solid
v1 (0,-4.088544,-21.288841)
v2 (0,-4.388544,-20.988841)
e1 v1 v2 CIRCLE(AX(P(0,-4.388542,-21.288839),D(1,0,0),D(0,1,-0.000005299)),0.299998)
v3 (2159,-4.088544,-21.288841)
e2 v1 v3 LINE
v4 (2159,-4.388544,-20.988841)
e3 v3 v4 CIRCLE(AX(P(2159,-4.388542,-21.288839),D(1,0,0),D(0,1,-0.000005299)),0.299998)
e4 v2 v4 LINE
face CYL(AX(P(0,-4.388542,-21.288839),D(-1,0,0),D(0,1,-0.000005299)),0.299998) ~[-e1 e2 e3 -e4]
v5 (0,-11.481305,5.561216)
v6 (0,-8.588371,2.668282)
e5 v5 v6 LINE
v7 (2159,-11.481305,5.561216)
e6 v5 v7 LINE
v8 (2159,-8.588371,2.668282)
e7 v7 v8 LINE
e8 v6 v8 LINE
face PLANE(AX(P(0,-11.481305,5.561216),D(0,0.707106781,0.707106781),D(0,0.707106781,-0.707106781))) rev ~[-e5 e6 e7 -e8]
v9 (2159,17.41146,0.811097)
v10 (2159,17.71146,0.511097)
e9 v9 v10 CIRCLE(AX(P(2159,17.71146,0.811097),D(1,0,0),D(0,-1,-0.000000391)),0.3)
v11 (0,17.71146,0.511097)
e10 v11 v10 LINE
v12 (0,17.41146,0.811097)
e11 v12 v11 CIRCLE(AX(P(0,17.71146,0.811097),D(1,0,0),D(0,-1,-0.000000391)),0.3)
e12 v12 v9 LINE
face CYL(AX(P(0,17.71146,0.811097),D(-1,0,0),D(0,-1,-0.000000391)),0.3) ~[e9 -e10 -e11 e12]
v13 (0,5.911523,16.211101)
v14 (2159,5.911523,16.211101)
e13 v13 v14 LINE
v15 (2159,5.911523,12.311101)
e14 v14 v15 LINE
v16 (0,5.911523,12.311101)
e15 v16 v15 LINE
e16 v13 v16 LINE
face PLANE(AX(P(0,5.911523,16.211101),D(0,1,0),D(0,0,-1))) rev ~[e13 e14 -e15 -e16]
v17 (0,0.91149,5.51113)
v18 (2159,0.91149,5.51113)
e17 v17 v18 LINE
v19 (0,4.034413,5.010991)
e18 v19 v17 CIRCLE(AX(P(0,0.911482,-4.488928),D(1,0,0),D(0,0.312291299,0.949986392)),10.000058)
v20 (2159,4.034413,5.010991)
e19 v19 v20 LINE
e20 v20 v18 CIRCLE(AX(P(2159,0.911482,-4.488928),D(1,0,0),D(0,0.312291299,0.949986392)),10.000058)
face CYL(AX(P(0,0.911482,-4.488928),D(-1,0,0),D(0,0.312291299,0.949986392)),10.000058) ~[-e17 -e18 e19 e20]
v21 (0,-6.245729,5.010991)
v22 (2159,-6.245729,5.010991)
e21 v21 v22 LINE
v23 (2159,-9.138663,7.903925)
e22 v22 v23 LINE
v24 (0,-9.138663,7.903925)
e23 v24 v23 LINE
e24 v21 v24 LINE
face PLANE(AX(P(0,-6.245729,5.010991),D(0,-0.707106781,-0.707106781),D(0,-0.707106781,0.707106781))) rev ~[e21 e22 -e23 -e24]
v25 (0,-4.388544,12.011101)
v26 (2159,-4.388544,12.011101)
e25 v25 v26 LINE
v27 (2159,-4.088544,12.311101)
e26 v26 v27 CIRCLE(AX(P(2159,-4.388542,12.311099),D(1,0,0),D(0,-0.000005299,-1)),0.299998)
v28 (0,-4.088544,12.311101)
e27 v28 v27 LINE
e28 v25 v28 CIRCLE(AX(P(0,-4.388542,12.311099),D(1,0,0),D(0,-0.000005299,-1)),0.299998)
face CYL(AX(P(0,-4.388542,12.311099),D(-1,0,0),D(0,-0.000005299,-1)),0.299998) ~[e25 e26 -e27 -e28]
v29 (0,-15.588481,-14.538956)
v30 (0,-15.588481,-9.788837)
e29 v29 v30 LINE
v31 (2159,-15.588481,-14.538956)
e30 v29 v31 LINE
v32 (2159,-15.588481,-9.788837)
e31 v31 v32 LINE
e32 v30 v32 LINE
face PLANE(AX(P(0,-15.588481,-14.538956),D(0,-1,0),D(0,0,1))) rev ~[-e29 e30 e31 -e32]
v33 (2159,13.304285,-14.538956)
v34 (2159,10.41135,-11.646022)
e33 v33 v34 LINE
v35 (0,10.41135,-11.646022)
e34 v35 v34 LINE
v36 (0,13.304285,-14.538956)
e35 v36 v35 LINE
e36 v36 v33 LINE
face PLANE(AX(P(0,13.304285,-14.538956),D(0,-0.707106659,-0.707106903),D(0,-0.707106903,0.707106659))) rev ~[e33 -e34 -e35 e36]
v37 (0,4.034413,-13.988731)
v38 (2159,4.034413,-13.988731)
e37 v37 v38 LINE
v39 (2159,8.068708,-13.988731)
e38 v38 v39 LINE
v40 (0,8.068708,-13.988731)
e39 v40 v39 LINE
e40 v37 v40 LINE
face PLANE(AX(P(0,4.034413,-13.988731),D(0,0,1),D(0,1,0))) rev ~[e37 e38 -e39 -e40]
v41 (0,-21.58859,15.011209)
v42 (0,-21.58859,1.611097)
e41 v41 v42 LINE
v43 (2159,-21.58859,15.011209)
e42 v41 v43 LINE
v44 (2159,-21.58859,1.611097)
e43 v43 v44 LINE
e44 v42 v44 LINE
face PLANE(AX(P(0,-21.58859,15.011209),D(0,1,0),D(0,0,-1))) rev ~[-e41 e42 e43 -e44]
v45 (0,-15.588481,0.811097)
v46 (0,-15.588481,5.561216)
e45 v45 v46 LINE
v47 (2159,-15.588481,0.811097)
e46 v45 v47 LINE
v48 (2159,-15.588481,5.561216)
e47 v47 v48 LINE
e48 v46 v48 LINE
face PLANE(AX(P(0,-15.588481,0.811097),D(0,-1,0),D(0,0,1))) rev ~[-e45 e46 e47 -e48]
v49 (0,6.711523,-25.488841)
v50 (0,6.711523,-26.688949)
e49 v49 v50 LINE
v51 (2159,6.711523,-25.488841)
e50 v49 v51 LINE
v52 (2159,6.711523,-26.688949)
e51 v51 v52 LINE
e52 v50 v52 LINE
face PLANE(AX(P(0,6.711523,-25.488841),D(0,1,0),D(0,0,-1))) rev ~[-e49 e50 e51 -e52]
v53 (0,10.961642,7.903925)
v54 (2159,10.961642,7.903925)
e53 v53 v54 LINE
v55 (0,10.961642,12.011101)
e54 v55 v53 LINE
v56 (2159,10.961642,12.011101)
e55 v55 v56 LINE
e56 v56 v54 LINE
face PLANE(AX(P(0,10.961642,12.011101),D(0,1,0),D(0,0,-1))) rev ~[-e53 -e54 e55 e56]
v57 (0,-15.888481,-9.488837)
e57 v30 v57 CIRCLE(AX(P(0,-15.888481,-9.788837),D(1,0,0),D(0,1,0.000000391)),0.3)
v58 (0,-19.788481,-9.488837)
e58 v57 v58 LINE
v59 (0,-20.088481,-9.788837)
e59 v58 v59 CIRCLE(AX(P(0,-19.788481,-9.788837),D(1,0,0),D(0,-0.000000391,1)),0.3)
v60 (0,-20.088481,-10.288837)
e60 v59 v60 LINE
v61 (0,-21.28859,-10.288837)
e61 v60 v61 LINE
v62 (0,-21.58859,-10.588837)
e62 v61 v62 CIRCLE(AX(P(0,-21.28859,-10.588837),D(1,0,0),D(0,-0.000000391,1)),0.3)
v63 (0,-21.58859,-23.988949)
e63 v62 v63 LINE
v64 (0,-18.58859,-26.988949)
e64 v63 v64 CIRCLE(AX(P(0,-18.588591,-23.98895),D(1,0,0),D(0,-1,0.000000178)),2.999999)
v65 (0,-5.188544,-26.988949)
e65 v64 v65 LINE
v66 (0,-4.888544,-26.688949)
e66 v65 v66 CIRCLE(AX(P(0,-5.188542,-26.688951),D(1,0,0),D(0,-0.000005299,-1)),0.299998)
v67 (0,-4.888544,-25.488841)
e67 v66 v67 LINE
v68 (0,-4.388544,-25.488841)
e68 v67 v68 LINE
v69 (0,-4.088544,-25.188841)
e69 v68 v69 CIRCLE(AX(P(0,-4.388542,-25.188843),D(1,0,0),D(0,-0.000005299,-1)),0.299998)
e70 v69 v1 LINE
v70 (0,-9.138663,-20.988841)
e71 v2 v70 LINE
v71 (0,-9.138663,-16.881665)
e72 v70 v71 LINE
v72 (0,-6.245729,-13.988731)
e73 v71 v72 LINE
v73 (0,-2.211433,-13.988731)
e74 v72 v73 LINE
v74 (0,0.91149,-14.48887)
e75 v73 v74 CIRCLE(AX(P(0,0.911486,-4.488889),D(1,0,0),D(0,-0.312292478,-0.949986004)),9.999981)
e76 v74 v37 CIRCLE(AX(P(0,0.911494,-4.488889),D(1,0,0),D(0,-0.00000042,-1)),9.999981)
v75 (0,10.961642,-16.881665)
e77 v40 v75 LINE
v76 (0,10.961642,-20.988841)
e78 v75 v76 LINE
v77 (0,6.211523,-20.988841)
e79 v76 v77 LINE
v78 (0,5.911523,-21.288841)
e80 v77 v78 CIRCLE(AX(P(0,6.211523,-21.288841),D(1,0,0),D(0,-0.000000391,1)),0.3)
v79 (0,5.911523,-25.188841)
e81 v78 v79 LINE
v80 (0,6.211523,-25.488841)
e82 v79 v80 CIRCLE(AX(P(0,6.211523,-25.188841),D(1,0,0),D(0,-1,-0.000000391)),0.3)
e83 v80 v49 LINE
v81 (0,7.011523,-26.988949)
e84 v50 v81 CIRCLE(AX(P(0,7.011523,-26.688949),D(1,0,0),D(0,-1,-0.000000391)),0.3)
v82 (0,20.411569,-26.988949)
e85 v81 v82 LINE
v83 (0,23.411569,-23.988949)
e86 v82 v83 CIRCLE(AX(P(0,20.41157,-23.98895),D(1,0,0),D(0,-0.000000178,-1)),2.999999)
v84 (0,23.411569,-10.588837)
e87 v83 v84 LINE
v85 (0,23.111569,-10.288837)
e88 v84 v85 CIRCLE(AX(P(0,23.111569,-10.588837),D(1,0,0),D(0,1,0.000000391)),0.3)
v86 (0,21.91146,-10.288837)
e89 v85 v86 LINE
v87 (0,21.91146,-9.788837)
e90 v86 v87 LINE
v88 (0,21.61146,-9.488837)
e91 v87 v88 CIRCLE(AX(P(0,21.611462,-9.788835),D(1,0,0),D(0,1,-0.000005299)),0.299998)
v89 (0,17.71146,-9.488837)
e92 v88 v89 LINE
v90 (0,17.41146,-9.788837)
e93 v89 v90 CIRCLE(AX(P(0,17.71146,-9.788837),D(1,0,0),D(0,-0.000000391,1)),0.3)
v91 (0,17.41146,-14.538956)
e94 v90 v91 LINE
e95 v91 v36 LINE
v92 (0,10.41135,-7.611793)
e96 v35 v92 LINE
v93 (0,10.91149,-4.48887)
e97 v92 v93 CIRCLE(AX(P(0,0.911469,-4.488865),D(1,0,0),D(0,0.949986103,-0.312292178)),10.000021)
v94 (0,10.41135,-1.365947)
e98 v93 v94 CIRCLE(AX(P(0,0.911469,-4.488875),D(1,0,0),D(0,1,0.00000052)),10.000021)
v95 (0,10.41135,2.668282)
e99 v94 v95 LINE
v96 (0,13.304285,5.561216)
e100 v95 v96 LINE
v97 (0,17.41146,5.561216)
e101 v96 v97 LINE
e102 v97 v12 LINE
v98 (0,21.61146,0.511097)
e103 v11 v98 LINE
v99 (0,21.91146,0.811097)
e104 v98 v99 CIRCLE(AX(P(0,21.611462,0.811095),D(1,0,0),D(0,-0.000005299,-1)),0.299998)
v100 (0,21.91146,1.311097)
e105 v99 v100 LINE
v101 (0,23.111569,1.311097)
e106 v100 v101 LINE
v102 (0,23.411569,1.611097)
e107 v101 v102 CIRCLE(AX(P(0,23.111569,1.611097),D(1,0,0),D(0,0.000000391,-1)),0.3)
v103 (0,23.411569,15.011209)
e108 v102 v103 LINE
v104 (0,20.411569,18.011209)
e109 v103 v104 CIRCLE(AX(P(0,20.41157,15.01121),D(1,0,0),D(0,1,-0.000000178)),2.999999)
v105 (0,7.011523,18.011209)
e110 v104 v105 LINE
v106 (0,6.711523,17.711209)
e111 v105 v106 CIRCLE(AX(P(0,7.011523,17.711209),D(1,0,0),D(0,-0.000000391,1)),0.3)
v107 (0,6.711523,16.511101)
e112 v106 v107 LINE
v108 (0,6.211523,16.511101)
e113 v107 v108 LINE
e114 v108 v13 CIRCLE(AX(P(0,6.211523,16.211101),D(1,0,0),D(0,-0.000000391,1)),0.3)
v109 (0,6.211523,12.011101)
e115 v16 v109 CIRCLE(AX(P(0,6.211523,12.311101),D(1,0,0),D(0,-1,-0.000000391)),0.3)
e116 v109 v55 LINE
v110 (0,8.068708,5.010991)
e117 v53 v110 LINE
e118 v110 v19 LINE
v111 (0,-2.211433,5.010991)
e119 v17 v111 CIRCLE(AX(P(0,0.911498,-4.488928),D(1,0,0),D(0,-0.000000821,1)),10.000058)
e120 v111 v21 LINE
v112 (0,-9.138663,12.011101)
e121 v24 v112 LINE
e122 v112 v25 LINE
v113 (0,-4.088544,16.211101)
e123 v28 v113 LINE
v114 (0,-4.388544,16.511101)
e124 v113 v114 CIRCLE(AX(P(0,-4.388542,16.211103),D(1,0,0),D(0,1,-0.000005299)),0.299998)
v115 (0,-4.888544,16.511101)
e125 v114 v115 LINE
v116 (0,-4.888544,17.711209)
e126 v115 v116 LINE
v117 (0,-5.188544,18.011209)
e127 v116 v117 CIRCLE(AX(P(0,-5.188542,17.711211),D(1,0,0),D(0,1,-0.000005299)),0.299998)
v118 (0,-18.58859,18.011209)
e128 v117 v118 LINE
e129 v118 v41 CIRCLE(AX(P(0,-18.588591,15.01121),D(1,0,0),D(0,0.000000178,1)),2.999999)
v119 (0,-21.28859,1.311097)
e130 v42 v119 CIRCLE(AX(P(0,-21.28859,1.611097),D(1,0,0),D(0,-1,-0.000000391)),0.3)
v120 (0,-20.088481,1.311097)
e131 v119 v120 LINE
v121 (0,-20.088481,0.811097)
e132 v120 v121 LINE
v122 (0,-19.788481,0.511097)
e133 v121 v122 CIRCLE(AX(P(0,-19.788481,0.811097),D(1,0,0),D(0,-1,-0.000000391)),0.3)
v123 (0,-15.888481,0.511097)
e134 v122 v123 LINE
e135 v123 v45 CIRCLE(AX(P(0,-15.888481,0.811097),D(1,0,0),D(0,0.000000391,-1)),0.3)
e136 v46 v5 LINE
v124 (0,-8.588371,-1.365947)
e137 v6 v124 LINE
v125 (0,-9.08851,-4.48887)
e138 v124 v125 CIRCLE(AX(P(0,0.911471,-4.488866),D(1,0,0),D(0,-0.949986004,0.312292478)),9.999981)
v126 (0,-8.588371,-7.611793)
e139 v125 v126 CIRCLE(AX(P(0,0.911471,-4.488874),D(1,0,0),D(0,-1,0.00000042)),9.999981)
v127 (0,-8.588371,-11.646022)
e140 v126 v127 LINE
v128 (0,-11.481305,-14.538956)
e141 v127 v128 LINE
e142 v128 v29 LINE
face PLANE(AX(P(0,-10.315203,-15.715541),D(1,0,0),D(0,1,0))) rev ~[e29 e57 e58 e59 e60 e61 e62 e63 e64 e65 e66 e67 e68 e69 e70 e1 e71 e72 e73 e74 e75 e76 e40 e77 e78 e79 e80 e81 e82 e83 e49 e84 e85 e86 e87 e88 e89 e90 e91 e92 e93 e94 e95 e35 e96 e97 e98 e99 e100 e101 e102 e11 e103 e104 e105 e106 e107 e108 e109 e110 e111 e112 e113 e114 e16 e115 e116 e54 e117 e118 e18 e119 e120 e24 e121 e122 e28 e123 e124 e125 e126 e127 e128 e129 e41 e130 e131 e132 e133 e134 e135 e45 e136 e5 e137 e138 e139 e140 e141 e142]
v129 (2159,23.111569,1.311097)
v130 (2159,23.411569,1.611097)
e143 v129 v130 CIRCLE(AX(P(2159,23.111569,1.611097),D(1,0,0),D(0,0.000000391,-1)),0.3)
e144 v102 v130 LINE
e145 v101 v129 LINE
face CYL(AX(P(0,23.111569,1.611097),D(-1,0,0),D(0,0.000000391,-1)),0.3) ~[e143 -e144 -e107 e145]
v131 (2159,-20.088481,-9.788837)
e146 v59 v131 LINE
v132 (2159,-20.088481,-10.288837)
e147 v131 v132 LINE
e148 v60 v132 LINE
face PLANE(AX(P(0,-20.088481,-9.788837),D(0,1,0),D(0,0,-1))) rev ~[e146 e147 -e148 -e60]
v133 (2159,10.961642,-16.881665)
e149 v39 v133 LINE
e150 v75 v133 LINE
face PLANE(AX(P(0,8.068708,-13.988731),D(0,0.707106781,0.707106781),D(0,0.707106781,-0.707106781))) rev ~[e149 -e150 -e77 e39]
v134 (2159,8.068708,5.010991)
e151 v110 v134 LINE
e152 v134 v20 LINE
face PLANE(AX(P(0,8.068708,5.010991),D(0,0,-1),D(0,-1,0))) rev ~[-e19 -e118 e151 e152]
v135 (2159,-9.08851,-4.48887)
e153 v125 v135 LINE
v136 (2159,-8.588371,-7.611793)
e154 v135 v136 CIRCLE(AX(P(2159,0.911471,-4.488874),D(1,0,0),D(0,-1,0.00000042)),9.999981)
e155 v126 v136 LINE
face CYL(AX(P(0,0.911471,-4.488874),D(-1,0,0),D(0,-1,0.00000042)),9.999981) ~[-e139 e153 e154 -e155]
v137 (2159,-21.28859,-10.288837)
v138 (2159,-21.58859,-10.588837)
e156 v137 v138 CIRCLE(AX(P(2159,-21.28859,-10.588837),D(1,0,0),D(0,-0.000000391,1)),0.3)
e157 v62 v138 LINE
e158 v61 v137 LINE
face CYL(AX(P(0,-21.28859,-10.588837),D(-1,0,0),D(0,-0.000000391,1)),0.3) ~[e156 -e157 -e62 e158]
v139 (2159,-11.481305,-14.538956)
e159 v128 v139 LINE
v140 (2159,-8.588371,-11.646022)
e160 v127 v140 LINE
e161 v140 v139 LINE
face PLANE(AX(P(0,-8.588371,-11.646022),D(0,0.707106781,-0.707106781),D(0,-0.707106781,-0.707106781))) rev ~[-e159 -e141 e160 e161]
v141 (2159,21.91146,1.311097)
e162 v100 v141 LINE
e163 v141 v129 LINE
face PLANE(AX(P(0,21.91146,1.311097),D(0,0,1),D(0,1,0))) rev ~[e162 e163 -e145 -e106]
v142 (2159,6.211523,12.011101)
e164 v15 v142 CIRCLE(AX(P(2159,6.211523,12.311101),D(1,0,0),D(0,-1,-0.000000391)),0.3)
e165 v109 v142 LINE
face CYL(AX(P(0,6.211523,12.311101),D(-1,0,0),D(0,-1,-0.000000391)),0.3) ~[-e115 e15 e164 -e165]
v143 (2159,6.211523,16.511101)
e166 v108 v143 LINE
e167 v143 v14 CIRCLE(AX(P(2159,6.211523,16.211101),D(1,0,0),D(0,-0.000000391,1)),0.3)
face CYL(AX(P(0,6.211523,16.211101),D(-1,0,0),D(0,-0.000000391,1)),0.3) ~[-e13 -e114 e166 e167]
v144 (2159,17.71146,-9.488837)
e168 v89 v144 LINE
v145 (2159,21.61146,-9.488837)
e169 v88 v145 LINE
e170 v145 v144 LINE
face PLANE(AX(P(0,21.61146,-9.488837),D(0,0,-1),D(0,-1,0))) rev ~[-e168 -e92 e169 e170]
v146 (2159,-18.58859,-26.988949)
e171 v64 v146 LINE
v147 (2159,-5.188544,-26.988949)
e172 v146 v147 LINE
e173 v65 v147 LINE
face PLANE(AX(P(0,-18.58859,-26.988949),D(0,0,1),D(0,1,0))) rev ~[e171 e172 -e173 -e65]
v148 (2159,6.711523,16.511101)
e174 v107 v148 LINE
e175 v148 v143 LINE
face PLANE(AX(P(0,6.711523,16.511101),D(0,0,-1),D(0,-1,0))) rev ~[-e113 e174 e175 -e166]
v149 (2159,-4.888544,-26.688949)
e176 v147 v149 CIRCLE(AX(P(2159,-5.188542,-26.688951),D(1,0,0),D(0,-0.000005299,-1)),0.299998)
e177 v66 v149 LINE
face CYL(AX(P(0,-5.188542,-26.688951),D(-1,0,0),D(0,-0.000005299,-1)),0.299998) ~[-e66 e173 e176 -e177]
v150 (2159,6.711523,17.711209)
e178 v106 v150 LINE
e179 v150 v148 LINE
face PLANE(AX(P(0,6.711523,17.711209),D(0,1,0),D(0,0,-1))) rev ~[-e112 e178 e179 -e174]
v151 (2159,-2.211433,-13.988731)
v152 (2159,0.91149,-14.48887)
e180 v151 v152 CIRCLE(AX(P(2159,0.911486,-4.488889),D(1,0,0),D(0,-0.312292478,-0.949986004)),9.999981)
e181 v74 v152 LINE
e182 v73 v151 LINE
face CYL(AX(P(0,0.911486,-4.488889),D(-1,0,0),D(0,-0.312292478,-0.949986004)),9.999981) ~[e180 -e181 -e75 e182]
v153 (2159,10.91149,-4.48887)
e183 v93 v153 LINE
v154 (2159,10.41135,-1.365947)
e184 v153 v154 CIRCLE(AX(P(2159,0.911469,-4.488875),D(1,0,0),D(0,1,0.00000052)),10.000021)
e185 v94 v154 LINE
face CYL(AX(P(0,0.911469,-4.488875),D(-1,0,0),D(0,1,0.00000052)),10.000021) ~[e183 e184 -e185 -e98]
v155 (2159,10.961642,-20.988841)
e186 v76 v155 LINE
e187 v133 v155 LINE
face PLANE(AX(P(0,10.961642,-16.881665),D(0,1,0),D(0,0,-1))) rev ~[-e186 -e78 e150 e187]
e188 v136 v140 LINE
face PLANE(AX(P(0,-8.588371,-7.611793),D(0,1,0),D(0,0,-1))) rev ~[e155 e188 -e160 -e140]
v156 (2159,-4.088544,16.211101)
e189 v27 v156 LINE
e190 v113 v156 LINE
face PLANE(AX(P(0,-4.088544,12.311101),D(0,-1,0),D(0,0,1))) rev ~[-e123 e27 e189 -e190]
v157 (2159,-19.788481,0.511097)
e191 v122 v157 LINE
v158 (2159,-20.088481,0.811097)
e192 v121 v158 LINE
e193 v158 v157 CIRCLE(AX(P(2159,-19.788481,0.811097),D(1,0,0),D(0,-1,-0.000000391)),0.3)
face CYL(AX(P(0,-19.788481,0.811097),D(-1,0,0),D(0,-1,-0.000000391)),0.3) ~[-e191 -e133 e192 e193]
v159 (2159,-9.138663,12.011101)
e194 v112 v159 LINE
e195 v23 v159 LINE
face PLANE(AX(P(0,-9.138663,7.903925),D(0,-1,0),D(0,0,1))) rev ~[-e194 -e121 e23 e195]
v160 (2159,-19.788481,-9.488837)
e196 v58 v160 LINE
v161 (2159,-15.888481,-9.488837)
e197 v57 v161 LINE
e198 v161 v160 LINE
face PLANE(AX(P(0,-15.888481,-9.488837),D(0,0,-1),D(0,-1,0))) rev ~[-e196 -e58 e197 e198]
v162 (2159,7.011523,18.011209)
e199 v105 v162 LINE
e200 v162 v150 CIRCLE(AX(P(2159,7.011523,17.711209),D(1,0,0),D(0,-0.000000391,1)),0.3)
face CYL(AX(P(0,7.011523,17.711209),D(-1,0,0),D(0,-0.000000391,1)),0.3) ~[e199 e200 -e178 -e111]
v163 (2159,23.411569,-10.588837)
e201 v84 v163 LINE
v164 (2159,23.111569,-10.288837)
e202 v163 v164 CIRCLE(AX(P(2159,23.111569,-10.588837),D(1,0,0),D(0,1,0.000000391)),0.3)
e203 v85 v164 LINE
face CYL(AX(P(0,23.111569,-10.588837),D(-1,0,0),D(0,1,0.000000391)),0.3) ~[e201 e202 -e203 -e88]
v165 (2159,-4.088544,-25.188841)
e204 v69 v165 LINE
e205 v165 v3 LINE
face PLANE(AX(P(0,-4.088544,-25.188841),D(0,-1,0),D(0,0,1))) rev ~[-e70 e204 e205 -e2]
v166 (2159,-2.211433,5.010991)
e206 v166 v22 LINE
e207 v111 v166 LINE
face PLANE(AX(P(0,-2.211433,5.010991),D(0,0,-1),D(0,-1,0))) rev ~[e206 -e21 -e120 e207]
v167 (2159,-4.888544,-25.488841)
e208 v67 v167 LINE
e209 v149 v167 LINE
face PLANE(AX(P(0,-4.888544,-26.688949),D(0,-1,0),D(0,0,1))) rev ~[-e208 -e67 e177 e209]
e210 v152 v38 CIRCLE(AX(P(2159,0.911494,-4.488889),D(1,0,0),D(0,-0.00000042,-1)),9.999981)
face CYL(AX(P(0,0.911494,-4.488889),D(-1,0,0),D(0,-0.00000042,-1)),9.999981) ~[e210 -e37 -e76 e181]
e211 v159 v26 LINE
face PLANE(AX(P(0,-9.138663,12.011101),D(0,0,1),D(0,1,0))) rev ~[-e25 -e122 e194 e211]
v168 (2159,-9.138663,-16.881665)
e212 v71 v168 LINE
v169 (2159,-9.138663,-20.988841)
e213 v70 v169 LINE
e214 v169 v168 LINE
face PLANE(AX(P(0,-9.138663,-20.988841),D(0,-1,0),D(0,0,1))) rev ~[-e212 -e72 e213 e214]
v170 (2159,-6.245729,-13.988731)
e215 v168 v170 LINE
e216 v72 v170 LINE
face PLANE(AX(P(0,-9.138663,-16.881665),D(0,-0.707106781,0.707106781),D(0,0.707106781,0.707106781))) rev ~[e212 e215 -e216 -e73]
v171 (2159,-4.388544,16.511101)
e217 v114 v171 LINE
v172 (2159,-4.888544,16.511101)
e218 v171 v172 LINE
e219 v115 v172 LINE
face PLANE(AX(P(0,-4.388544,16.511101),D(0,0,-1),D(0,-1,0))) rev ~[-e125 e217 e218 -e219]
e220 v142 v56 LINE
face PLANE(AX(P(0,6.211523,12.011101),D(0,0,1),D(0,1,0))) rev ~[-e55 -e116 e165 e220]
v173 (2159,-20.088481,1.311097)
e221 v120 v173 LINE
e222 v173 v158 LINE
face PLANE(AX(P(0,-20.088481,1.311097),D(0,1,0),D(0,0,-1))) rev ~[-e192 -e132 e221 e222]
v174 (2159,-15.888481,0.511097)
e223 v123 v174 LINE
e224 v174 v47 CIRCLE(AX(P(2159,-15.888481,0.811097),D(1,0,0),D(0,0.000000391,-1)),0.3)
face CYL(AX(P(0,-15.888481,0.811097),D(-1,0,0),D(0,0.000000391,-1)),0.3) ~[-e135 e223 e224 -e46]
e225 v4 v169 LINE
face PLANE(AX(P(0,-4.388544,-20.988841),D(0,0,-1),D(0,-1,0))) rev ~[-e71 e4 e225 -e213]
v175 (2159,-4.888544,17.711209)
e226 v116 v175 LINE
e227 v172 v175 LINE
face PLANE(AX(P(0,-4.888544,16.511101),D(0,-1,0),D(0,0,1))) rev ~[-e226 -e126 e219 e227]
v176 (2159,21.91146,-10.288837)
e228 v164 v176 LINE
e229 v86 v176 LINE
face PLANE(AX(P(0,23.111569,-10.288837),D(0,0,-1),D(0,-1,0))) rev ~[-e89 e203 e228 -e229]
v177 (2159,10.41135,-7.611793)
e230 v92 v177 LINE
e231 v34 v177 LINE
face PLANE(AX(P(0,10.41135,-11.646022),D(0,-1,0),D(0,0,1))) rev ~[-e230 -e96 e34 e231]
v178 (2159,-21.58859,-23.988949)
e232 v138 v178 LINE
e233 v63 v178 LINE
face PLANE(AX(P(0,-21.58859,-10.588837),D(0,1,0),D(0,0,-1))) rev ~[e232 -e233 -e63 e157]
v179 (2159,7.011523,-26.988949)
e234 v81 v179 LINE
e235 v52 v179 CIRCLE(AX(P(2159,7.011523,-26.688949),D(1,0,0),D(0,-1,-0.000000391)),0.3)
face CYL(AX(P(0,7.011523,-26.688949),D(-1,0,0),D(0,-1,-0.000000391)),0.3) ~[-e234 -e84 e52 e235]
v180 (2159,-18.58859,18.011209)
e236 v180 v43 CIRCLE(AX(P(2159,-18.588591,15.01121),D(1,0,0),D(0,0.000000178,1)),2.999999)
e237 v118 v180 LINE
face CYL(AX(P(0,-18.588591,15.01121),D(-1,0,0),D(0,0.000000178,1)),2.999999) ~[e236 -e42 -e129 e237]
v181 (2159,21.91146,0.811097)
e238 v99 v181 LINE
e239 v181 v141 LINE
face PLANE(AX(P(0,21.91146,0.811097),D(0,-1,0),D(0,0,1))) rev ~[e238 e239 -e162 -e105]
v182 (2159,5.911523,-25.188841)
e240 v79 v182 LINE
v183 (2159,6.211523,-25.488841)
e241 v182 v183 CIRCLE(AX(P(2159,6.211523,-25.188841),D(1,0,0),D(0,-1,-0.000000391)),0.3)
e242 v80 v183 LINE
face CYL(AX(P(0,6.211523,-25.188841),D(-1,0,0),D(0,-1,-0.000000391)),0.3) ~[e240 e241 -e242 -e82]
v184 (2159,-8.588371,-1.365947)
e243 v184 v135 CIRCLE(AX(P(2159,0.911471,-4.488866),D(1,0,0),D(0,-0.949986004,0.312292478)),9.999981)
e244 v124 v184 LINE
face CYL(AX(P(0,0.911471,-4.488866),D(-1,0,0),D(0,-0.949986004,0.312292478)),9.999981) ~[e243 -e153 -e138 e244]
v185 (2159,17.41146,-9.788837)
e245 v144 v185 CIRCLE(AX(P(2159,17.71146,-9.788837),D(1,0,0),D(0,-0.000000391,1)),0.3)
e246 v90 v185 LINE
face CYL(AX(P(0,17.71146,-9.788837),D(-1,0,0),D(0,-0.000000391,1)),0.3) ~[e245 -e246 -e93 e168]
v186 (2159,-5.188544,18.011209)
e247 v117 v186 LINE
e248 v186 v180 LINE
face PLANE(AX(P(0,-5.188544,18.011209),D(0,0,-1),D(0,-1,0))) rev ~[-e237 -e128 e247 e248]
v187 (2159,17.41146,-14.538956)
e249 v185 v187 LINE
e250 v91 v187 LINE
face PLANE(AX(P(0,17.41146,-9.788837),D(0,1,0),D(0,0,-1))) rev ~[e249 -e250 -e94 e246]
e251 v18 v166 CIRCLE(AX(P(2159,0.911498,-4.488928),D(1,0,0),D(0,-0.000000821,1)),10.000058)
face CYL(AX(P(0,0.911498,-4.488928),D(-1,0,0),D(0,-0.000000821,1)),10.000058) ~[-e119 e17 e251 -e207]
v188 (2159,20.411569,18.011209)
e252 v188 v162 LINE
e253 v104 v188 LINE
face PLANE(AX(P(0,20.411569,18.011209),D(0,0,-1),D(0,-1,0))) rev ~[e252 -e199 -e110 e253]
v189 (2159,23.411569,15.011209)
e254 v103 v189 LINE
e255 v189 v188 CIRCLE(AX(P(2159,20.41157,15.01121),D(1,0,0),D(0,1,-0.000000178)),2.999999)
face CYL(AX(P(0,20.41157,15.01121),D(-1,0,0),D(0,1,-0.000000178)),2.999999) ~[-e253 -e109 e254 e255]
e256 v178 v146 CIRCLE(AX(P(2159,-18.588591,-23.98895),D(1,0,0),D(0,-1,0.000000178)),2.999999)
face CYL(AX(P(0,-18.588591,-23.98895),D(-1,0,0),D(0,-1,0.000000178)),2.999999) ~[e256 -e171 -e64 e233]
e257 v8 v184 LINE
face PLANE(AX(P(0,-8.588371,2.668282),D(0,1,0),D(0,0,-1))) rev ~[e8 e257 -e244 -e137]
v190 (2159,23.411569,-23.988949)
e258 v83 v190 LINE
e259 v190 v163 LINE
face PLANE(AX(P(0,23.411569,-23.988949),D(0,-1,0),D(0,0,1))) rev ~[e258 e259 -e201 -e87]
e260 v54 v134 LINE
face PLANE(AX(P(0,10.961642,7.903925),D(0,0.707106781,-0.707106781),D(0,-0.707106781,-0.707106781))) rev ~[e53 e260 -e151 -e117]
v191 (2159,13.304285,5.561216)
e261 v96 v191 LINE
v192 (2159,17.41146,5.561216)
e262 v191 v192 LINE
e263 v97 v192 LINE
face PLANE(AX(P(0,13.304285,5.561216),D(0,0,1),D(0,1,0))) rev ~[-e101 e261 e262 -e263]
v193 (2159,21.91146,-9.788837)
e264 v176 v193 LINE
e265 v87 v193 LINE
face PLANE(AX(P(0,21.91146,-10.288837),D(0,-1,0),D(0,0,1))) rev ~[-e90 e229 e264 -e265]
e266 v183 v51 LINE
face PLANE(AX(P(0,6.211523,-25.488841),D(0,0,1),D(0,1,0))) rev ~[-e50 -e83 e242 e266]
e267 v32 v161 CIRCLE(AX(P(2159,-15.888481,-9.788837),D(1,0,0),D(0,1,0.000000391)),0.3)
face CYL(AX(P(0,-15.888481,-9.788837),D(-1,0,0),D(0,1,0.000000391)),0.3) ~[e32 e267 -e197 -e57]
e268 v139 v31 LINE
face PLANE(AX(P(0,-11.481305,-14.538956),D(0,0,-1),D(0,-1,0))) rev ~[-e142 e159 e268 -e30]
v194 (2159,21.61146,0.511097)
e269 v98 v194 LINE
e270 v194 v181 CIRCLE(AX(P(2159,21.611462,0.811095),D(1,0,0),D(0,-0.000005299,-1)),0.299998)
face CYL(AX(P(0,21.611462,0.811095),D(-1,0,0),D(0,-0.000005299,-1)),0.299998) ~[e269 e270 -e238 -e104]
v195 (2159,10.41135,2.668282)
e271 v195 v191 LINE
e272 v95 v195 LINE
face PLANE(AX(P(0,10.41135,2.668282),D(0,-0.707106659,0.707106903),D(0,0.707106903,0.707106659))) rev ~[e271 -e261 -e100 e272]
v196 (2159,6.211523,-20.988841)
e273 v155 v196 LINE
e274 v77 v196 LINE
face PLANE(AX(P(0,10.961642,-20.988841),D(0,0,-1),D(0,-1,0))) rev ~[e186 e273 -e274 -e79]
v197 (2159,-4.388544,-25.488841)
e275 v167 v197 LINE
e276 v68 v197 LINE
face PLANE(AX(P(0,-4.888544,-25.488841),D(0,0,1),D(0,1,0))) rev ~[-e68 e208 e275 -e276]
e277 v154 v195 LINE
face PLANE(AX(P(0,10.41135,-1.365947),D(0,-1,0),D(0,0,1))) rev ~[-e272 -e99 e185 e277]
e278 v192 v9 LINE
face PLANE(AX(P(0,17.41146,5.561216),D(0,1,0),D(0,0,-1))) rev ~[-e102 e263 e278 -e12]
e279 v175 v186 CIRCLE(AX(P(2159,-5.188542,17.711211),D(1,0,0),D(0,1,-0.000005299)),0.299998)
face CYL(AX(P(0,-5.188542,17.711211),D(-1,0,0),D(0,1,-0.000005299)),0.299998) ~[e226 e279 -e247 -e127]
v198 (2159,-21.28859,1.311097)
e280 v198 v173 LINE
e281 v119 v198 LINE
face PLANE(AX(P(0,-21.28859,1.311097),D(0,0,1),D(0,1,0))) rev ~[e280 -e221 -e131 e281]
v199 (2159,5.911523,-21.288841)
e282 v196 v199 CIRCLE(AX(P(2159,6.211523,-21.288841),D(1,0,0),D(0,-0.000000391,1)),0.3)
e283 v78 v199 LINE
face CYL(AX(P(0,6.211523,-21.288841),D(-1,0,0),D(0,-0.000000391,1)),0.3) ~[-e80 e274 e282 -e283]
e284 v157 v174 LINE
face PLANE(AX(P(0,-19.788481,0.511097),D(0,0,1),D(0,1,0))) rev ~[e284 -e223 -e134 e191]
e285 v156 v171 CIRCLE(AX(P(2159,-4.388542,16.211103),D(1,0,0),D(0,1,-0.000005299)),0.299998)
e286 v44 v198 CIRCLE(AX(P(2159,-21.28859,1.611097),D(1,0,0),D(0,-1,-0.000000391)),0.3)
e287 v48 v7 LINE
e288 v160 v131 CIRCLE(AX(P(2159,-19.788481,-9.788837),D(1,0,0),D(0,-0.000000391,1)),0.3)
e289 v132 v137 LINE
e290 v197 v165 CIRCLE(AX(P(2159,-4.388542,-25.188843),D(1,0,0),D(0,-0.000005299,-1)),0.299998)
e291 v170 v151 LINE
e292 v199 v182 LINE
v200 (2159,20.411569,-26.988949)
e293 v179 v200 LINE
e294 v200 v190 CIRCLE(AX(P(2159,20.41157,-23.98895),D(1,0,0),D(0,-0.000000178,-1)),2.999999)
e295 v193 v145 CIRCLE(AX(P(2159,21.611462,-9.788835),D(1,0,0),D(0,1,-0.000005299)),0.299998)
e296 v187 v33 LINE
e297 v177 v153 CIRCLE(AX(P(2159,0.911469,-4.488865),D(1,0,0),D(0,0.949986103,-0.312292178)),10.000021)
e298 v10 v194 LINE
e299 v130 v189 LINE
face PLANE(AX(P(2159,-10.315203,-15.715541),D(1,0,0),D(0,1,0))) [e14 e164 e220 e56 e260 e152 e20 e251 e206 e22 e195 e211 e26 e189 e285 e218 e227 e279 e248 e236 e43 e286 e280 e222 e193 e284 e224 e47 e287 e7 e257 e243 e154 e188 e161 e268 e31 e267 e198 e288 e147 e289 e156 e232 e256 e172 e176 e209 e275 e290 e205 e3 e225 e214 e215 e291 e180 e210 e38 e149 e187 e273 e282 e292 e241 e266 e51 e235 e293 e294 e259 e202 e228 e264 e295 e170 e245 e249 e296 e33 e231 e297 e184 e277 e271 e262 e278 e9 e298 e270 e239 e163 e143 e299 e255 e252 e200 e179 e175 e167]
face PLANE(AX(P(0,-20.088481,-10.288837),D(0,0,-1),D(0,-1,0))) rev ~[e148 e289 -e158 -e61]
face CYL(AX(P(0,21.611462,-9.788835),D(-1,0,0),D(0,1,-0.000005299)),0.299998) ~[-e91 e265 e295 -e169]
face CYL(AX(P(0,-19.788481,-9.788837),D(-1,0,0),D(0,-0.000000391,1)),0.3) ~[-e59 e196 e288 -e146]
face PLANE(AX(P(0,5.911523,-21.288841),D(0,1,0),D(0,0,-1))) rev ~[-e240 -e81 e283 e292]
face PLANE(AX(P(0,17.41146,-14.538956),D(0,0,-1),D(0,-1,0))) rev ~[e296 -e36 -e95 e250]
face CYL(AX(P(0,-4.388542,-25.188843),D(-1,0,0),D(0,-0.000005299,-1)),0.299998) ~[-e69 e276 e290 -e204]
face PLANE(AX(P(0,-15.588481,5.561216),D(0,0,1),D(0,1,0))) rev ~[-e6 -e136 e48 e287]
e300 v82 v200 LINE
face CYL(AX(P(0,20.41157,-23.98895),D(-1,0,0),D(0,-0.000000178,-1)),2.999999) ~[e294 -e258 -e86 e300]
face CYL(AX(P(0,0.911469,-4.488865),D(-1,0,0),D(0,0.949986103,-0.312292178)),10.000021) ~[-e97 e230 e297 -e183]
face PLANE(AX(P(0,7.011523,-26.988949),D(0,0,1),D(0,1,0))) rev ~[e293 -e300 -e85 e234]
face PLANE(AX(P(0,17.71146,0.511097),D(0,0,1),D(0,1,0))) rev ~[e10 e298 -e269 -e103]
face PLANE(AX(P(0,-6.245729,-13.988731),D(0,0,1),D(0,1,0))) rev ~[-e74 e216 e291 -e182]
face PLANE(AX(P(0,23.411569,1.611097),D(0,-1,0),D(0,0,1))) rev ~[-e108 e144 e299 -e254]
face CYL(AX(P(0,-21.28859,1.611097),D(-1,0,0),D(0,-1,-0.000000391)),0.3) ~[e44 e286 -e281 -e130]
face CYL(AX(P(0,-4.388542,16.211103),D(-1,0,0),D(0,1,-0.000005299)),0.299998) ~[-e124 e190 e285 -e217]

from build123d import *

# Parameters (mm, degrees)
F1_DEPTH = 2159


with BuildPart() as f1:
    # F0 (on Right) → F1 (new body)
    with BuildSketch(Plane.YZ):
        with BuildLine():
            Line((-20.088481, -9.788837), (-20.088481, -10.288837))
            Line((-20.088481, -10.288837), (-21.28859, -10.288837))
            ThreePointArc((-21.28859, -10.288837), (-21.500722, -10.376705), (-21.58859, -10.588837))
            Line((-21.58859, -10.588837), (-21.58859, -23.988949))
            ThreePointArc((-21.58859, -23.988949), (-20.70991, -26.11027), (-18.58859, -26.988949))
            Line((-18.58859, -26.988949), (-5.188544, -26.988949))
            ThreePointArc((-5.188544, -26.988949), (-4.976411, -26.901081), (-4.888544, -26.688949))
            Line((-4.888544, -26.688949), (-4.888544, -25.488841))
            Line((-4.888544, -25.488841), (-4.388544, -25.488841))
            ThreePointArc((-4.388544, -25.488841), (-4.176411, -25.400973), (-4.088544, -25.188841))
            Line((-4.088544, -25.188841), (-4.088544, -21.288841))
            ThreePointArc((-4.088544, -21.288841), (-4.176411, -21.076709), (-4.388544, -20.988841))
            Line((-4.388544, -20.988841), (-9.138663, -20.988841))
            Line((-9.138663, -20.988841), (-9.138663, -16.881665))
            Line((-9.138663, -16.881665), (-6.245729, -13.988731))
            Line((-6.245729, -13.988731), (-2.211433, -13.988731))
            ThreePointArc((-2.211433, -13.988731), (-0.669869, -14.363044), (0.91149, -14.48887))
            Line((0.91149, -14.48887), (0.91149, -4.48887))
            Line((0.91149, -4.48887), (-9.08851, -4.48887))
            ThreePointArc((-9.08851, -4.48887), (-8.962684, -6.070229), (-8.588371, -7.611793))
            Line((-8.588371, -7.611793), (-8.588371, -11.646022))
            Line((-8.588371, -11.646022), (-11.481305, -14.538956))
            Line((-11.481305, -14.538956), (-15.588481, -14.538956))
            Line((-15.588481, -14.538956), (-15.588481, -9.788837))
            ThreePointArc((-15.588481, -9.788837), (-15.676349, -9.576705), (-15.888481, -9.488837))
            Line((-15.888481, -9.488837), (-19.788481, -9.488837))
            ThreePointArc((-19.788481, -9.488837), (-20.000613, -9.576705), (-20.088481, -9.788837))
        make_face()
        with BuildLine():
            ThreePointArc((-8.588371, -1.365947), (-8.962684, -2.907511), (-9.08851, -4.48887))
            Line((-9.08851, -4.48887), (0.91149, -4.48887))
            Line((0.91149, -4.48887), (0.91149, 5.51113))
            ThreePointArc((0.91149, 5.51113), (-0.669869, 5.385303), (-2.211433, 5.010991))
            Line((-2.211433, 5.010991), (-6.245729, 5.010991))
            Line((-6.245729, 5.010991), (-9.138663, 7.903925))
            Line((-9.138663, 7.903925), (-9.138663, 12.011101))
            Line((-9.138663, 12.011101), (-4.388544, 12.011101))
            ThreePointArc((-4.388544, 12.011101), (-4.176411, 12.098969), (-4.088544, 12.311101))
            Line((-4.088544, 12.311101), (-4.088544, 16.211101))
            ThreePointArc((-4.088544, 16.211101), (-4.176411, 16.423233), (-4.388544, 16.511101))
            Line((-4.388544, 16.511101), (-4.888544, 16.511101))
            Line((-4.888544, 16.511101), (-4.888544, 17.711209))
            ThreePointArc((-4.888544, 17.711209), (-4.976411, 17.923341), (-5.188544, 18.011209))
            Line((-5.188544, 18.011209), (-18.58859, 18.011209))
            ThreePointArc((-18.58859, 18.011209), (-20.70991, 17.13253), (-21.58859, 15.011209))
            Line((-21.58859, 15.011209), (-21.58859, 1.611097))
            ThreePointArc((-21.58859, 1.611097), (-21.500722, 1.398965), (-21.28859, 1.311097))
            Line((-21.28859, 1.311097), (-20.088481, 1.311097))
            Line((-20.088481, 1.311097), (-20.088481, 0.811097))
            ThreePointArc((-20.088481, 0.811097), (-20.000613, 0.598965), (-19.788481, 0.511097))
            Line((-19.788481, 0.511097), (-15.888481, 0.511097))
            ThreePointArc((-15.888481, 0.511097), (-15.676349, 0.598965), (-15.588481, 0.811097))
            Line((-15.588481, 0.811097), (-15.588481, 5.561216))
            Line((-15.588481, 5.561216), (-11.481305, 5.561216))
            Line((-11.481305, 5.561216), (-8.588371, 2.668282))
            Line((-8.588371, 2.668282), (-8.588371, -1.365947))
        make_face()
        with BuildLine():
            Line((0.91149, 5.51113), (0.91149, -4.48887))
            Line((0.91149, -4.48887), (10.91149, -4.48887))
            ThreePointArc((10.91149, -4.48887), (10.785663, -2.907511), (10.41135, -1.365947))
            Line((10.41135, -1.365947), (10.41135, 2.668282))
            Line((10.41135, 2.668282), (13.304285, 5.561216))
            Line((13.304285, 5.561216), (14.016842, 5.561216))
            Line((14.016842, 5.561216), (17.41146, 5.561216))
            Line((17.41146, 5.561216), (17.41146, 0.811097))
            ThreePointArc((17.41146, 0.811097), (17.499328, 0.598965), (17.71146, 0.511097))
            Line((17.71146, 0.511097), (21.61146, 0.511097))
            ThreePointArc((21.61146, 0.511097), (21.823593, 0.598965), (21.91146, 0.811097))
            Line((21.91146, 0.811097), (21.91146, 1.311097))
            Line((21.91146, 1.311097), (23.111569, 1.311097))
            ThreePointArc((23.111569, 1.311097), (23.323701, 1.398965), (23.411569, 1.611097))
            Line((23.411569, 1.611097), (23.411569, 15.011209))
            ThreePointArc((23.411569, 15.011209), (22.532889, 17.13253), (20.411569, 18.011209))
            Line((20.411569, 18.011209), (7.011523, 18.011209))
            ThreePointArc((7.011523, 18.011209), (6.799391, 17.923341), (6.711523, 17.711209))
            Line((6.711523, 17.711209), (6.711523, 16.511101))
            Line((6.711523, 16.511101), (6.211523, 16.511101))
            ThreePointArc((6.211523, 16.511101), (5.999391, 16.423233), (5.911523, 16.211101))
            Line((5.911523, 16.211101), (5.911523, 12.311101))
            ThreePointArc((5.911523, 12.311101), (5.999391, 12.098969), (6.211523, 12.011101))
            Line((6.211523, 12.011101), (10.961642, 12.011101))
            Line((10.961642, 12.011101), (10.961642, 7.903925))
            Line((10.961642, 7.903925), (8.068708, 5.010991))
            Line((8.068708, 5.010991), (4.034413, 5.010991))
            ThreePointArc((4.034413, 5.010991), (2.492849, 5.385303), (0.91149, 5.51113))
        make_face()
        with BuildLine():
            Line((10.91149, -4.48887), (0.91149, -4.48887))
            Line((0.91149, -4.48887), (0.91149, -14.48887))
            ThreePointArc((0.91149, -14.48887), (2.492849, -14.363044), (4.034413, -13.988731))
            Line((4.034413, -13.988731), (8.068708, -13.988731))
            Line((8.068708, -13.988731), (10.961642, -16.881665))
            Line((10.961642, -16.881665), (10.961642, -20.988841))
            Line((10.961642, -20.988841), (6.211523, -20.988841))
            ThreePointArc((6.211523, -20.988841), (5.999391, -21.076709), (5.911523, -21.288841))
            Line((5.911523, -21.288841), (5.911523, -25.188841))
            ThreePointArc((5.911523, -25.188841), (5.999391, -25.400973), (6.211523, -25.488841))
            Line((6.211523, -25.488841), (6.711523, -25.488841))
            Line((6.711523, -25.488841), (6.711523, -26.688949))
            ThreePointArc((6.711523, -26.688949), (6.799391, -26.901081), (7.011523, -26.988949))
            Line((7.011523, -26.988949), (20.411569, -26.988949))
            ThreePointArc((20.411569, -26.988949), (22.532889, -26.11027), (23.411569, -23.988949))
            Line((23.411569, -23.988949), (23.411569, -10.588837))
            ThreePointArc((23.411569, -10.588837), (23.323701, -10.376705), (23.111569, -10.288837))
            Line((23.111569, -10.288837), (21.91146, -10.288837))
            Line((21.91146, -10.288837), (21.91146, -9.788837))
            ThreePointArc((21.91146, -9.788837), (21.823593, -9.576705), (21.61146, -9.488837))
            Line((21.61146, -9.488837), (17.71146, -9.488837))
            ThreePointArc((17.71146, -9.488837), (17.499328, -9.576705), (17.41146, -9.788837))
            Line((17.41146, -9.788837), (17.41146, -14.538956))
            Line((17.41146, -14.538956), (13.304285, -14.538956))
            Line((13.304285, -14.538956), (10.41135, -11.646022))
            Line((10.41135, -11.646022), (10.41135, -7.611793))
            ThreePointArc((10.41135, -7.611793), (10.785663, -6.070229), (10.91149, -4.48887))
        make_face()
    extrude(amount=F1_DEPTH)


solid = f1.part
